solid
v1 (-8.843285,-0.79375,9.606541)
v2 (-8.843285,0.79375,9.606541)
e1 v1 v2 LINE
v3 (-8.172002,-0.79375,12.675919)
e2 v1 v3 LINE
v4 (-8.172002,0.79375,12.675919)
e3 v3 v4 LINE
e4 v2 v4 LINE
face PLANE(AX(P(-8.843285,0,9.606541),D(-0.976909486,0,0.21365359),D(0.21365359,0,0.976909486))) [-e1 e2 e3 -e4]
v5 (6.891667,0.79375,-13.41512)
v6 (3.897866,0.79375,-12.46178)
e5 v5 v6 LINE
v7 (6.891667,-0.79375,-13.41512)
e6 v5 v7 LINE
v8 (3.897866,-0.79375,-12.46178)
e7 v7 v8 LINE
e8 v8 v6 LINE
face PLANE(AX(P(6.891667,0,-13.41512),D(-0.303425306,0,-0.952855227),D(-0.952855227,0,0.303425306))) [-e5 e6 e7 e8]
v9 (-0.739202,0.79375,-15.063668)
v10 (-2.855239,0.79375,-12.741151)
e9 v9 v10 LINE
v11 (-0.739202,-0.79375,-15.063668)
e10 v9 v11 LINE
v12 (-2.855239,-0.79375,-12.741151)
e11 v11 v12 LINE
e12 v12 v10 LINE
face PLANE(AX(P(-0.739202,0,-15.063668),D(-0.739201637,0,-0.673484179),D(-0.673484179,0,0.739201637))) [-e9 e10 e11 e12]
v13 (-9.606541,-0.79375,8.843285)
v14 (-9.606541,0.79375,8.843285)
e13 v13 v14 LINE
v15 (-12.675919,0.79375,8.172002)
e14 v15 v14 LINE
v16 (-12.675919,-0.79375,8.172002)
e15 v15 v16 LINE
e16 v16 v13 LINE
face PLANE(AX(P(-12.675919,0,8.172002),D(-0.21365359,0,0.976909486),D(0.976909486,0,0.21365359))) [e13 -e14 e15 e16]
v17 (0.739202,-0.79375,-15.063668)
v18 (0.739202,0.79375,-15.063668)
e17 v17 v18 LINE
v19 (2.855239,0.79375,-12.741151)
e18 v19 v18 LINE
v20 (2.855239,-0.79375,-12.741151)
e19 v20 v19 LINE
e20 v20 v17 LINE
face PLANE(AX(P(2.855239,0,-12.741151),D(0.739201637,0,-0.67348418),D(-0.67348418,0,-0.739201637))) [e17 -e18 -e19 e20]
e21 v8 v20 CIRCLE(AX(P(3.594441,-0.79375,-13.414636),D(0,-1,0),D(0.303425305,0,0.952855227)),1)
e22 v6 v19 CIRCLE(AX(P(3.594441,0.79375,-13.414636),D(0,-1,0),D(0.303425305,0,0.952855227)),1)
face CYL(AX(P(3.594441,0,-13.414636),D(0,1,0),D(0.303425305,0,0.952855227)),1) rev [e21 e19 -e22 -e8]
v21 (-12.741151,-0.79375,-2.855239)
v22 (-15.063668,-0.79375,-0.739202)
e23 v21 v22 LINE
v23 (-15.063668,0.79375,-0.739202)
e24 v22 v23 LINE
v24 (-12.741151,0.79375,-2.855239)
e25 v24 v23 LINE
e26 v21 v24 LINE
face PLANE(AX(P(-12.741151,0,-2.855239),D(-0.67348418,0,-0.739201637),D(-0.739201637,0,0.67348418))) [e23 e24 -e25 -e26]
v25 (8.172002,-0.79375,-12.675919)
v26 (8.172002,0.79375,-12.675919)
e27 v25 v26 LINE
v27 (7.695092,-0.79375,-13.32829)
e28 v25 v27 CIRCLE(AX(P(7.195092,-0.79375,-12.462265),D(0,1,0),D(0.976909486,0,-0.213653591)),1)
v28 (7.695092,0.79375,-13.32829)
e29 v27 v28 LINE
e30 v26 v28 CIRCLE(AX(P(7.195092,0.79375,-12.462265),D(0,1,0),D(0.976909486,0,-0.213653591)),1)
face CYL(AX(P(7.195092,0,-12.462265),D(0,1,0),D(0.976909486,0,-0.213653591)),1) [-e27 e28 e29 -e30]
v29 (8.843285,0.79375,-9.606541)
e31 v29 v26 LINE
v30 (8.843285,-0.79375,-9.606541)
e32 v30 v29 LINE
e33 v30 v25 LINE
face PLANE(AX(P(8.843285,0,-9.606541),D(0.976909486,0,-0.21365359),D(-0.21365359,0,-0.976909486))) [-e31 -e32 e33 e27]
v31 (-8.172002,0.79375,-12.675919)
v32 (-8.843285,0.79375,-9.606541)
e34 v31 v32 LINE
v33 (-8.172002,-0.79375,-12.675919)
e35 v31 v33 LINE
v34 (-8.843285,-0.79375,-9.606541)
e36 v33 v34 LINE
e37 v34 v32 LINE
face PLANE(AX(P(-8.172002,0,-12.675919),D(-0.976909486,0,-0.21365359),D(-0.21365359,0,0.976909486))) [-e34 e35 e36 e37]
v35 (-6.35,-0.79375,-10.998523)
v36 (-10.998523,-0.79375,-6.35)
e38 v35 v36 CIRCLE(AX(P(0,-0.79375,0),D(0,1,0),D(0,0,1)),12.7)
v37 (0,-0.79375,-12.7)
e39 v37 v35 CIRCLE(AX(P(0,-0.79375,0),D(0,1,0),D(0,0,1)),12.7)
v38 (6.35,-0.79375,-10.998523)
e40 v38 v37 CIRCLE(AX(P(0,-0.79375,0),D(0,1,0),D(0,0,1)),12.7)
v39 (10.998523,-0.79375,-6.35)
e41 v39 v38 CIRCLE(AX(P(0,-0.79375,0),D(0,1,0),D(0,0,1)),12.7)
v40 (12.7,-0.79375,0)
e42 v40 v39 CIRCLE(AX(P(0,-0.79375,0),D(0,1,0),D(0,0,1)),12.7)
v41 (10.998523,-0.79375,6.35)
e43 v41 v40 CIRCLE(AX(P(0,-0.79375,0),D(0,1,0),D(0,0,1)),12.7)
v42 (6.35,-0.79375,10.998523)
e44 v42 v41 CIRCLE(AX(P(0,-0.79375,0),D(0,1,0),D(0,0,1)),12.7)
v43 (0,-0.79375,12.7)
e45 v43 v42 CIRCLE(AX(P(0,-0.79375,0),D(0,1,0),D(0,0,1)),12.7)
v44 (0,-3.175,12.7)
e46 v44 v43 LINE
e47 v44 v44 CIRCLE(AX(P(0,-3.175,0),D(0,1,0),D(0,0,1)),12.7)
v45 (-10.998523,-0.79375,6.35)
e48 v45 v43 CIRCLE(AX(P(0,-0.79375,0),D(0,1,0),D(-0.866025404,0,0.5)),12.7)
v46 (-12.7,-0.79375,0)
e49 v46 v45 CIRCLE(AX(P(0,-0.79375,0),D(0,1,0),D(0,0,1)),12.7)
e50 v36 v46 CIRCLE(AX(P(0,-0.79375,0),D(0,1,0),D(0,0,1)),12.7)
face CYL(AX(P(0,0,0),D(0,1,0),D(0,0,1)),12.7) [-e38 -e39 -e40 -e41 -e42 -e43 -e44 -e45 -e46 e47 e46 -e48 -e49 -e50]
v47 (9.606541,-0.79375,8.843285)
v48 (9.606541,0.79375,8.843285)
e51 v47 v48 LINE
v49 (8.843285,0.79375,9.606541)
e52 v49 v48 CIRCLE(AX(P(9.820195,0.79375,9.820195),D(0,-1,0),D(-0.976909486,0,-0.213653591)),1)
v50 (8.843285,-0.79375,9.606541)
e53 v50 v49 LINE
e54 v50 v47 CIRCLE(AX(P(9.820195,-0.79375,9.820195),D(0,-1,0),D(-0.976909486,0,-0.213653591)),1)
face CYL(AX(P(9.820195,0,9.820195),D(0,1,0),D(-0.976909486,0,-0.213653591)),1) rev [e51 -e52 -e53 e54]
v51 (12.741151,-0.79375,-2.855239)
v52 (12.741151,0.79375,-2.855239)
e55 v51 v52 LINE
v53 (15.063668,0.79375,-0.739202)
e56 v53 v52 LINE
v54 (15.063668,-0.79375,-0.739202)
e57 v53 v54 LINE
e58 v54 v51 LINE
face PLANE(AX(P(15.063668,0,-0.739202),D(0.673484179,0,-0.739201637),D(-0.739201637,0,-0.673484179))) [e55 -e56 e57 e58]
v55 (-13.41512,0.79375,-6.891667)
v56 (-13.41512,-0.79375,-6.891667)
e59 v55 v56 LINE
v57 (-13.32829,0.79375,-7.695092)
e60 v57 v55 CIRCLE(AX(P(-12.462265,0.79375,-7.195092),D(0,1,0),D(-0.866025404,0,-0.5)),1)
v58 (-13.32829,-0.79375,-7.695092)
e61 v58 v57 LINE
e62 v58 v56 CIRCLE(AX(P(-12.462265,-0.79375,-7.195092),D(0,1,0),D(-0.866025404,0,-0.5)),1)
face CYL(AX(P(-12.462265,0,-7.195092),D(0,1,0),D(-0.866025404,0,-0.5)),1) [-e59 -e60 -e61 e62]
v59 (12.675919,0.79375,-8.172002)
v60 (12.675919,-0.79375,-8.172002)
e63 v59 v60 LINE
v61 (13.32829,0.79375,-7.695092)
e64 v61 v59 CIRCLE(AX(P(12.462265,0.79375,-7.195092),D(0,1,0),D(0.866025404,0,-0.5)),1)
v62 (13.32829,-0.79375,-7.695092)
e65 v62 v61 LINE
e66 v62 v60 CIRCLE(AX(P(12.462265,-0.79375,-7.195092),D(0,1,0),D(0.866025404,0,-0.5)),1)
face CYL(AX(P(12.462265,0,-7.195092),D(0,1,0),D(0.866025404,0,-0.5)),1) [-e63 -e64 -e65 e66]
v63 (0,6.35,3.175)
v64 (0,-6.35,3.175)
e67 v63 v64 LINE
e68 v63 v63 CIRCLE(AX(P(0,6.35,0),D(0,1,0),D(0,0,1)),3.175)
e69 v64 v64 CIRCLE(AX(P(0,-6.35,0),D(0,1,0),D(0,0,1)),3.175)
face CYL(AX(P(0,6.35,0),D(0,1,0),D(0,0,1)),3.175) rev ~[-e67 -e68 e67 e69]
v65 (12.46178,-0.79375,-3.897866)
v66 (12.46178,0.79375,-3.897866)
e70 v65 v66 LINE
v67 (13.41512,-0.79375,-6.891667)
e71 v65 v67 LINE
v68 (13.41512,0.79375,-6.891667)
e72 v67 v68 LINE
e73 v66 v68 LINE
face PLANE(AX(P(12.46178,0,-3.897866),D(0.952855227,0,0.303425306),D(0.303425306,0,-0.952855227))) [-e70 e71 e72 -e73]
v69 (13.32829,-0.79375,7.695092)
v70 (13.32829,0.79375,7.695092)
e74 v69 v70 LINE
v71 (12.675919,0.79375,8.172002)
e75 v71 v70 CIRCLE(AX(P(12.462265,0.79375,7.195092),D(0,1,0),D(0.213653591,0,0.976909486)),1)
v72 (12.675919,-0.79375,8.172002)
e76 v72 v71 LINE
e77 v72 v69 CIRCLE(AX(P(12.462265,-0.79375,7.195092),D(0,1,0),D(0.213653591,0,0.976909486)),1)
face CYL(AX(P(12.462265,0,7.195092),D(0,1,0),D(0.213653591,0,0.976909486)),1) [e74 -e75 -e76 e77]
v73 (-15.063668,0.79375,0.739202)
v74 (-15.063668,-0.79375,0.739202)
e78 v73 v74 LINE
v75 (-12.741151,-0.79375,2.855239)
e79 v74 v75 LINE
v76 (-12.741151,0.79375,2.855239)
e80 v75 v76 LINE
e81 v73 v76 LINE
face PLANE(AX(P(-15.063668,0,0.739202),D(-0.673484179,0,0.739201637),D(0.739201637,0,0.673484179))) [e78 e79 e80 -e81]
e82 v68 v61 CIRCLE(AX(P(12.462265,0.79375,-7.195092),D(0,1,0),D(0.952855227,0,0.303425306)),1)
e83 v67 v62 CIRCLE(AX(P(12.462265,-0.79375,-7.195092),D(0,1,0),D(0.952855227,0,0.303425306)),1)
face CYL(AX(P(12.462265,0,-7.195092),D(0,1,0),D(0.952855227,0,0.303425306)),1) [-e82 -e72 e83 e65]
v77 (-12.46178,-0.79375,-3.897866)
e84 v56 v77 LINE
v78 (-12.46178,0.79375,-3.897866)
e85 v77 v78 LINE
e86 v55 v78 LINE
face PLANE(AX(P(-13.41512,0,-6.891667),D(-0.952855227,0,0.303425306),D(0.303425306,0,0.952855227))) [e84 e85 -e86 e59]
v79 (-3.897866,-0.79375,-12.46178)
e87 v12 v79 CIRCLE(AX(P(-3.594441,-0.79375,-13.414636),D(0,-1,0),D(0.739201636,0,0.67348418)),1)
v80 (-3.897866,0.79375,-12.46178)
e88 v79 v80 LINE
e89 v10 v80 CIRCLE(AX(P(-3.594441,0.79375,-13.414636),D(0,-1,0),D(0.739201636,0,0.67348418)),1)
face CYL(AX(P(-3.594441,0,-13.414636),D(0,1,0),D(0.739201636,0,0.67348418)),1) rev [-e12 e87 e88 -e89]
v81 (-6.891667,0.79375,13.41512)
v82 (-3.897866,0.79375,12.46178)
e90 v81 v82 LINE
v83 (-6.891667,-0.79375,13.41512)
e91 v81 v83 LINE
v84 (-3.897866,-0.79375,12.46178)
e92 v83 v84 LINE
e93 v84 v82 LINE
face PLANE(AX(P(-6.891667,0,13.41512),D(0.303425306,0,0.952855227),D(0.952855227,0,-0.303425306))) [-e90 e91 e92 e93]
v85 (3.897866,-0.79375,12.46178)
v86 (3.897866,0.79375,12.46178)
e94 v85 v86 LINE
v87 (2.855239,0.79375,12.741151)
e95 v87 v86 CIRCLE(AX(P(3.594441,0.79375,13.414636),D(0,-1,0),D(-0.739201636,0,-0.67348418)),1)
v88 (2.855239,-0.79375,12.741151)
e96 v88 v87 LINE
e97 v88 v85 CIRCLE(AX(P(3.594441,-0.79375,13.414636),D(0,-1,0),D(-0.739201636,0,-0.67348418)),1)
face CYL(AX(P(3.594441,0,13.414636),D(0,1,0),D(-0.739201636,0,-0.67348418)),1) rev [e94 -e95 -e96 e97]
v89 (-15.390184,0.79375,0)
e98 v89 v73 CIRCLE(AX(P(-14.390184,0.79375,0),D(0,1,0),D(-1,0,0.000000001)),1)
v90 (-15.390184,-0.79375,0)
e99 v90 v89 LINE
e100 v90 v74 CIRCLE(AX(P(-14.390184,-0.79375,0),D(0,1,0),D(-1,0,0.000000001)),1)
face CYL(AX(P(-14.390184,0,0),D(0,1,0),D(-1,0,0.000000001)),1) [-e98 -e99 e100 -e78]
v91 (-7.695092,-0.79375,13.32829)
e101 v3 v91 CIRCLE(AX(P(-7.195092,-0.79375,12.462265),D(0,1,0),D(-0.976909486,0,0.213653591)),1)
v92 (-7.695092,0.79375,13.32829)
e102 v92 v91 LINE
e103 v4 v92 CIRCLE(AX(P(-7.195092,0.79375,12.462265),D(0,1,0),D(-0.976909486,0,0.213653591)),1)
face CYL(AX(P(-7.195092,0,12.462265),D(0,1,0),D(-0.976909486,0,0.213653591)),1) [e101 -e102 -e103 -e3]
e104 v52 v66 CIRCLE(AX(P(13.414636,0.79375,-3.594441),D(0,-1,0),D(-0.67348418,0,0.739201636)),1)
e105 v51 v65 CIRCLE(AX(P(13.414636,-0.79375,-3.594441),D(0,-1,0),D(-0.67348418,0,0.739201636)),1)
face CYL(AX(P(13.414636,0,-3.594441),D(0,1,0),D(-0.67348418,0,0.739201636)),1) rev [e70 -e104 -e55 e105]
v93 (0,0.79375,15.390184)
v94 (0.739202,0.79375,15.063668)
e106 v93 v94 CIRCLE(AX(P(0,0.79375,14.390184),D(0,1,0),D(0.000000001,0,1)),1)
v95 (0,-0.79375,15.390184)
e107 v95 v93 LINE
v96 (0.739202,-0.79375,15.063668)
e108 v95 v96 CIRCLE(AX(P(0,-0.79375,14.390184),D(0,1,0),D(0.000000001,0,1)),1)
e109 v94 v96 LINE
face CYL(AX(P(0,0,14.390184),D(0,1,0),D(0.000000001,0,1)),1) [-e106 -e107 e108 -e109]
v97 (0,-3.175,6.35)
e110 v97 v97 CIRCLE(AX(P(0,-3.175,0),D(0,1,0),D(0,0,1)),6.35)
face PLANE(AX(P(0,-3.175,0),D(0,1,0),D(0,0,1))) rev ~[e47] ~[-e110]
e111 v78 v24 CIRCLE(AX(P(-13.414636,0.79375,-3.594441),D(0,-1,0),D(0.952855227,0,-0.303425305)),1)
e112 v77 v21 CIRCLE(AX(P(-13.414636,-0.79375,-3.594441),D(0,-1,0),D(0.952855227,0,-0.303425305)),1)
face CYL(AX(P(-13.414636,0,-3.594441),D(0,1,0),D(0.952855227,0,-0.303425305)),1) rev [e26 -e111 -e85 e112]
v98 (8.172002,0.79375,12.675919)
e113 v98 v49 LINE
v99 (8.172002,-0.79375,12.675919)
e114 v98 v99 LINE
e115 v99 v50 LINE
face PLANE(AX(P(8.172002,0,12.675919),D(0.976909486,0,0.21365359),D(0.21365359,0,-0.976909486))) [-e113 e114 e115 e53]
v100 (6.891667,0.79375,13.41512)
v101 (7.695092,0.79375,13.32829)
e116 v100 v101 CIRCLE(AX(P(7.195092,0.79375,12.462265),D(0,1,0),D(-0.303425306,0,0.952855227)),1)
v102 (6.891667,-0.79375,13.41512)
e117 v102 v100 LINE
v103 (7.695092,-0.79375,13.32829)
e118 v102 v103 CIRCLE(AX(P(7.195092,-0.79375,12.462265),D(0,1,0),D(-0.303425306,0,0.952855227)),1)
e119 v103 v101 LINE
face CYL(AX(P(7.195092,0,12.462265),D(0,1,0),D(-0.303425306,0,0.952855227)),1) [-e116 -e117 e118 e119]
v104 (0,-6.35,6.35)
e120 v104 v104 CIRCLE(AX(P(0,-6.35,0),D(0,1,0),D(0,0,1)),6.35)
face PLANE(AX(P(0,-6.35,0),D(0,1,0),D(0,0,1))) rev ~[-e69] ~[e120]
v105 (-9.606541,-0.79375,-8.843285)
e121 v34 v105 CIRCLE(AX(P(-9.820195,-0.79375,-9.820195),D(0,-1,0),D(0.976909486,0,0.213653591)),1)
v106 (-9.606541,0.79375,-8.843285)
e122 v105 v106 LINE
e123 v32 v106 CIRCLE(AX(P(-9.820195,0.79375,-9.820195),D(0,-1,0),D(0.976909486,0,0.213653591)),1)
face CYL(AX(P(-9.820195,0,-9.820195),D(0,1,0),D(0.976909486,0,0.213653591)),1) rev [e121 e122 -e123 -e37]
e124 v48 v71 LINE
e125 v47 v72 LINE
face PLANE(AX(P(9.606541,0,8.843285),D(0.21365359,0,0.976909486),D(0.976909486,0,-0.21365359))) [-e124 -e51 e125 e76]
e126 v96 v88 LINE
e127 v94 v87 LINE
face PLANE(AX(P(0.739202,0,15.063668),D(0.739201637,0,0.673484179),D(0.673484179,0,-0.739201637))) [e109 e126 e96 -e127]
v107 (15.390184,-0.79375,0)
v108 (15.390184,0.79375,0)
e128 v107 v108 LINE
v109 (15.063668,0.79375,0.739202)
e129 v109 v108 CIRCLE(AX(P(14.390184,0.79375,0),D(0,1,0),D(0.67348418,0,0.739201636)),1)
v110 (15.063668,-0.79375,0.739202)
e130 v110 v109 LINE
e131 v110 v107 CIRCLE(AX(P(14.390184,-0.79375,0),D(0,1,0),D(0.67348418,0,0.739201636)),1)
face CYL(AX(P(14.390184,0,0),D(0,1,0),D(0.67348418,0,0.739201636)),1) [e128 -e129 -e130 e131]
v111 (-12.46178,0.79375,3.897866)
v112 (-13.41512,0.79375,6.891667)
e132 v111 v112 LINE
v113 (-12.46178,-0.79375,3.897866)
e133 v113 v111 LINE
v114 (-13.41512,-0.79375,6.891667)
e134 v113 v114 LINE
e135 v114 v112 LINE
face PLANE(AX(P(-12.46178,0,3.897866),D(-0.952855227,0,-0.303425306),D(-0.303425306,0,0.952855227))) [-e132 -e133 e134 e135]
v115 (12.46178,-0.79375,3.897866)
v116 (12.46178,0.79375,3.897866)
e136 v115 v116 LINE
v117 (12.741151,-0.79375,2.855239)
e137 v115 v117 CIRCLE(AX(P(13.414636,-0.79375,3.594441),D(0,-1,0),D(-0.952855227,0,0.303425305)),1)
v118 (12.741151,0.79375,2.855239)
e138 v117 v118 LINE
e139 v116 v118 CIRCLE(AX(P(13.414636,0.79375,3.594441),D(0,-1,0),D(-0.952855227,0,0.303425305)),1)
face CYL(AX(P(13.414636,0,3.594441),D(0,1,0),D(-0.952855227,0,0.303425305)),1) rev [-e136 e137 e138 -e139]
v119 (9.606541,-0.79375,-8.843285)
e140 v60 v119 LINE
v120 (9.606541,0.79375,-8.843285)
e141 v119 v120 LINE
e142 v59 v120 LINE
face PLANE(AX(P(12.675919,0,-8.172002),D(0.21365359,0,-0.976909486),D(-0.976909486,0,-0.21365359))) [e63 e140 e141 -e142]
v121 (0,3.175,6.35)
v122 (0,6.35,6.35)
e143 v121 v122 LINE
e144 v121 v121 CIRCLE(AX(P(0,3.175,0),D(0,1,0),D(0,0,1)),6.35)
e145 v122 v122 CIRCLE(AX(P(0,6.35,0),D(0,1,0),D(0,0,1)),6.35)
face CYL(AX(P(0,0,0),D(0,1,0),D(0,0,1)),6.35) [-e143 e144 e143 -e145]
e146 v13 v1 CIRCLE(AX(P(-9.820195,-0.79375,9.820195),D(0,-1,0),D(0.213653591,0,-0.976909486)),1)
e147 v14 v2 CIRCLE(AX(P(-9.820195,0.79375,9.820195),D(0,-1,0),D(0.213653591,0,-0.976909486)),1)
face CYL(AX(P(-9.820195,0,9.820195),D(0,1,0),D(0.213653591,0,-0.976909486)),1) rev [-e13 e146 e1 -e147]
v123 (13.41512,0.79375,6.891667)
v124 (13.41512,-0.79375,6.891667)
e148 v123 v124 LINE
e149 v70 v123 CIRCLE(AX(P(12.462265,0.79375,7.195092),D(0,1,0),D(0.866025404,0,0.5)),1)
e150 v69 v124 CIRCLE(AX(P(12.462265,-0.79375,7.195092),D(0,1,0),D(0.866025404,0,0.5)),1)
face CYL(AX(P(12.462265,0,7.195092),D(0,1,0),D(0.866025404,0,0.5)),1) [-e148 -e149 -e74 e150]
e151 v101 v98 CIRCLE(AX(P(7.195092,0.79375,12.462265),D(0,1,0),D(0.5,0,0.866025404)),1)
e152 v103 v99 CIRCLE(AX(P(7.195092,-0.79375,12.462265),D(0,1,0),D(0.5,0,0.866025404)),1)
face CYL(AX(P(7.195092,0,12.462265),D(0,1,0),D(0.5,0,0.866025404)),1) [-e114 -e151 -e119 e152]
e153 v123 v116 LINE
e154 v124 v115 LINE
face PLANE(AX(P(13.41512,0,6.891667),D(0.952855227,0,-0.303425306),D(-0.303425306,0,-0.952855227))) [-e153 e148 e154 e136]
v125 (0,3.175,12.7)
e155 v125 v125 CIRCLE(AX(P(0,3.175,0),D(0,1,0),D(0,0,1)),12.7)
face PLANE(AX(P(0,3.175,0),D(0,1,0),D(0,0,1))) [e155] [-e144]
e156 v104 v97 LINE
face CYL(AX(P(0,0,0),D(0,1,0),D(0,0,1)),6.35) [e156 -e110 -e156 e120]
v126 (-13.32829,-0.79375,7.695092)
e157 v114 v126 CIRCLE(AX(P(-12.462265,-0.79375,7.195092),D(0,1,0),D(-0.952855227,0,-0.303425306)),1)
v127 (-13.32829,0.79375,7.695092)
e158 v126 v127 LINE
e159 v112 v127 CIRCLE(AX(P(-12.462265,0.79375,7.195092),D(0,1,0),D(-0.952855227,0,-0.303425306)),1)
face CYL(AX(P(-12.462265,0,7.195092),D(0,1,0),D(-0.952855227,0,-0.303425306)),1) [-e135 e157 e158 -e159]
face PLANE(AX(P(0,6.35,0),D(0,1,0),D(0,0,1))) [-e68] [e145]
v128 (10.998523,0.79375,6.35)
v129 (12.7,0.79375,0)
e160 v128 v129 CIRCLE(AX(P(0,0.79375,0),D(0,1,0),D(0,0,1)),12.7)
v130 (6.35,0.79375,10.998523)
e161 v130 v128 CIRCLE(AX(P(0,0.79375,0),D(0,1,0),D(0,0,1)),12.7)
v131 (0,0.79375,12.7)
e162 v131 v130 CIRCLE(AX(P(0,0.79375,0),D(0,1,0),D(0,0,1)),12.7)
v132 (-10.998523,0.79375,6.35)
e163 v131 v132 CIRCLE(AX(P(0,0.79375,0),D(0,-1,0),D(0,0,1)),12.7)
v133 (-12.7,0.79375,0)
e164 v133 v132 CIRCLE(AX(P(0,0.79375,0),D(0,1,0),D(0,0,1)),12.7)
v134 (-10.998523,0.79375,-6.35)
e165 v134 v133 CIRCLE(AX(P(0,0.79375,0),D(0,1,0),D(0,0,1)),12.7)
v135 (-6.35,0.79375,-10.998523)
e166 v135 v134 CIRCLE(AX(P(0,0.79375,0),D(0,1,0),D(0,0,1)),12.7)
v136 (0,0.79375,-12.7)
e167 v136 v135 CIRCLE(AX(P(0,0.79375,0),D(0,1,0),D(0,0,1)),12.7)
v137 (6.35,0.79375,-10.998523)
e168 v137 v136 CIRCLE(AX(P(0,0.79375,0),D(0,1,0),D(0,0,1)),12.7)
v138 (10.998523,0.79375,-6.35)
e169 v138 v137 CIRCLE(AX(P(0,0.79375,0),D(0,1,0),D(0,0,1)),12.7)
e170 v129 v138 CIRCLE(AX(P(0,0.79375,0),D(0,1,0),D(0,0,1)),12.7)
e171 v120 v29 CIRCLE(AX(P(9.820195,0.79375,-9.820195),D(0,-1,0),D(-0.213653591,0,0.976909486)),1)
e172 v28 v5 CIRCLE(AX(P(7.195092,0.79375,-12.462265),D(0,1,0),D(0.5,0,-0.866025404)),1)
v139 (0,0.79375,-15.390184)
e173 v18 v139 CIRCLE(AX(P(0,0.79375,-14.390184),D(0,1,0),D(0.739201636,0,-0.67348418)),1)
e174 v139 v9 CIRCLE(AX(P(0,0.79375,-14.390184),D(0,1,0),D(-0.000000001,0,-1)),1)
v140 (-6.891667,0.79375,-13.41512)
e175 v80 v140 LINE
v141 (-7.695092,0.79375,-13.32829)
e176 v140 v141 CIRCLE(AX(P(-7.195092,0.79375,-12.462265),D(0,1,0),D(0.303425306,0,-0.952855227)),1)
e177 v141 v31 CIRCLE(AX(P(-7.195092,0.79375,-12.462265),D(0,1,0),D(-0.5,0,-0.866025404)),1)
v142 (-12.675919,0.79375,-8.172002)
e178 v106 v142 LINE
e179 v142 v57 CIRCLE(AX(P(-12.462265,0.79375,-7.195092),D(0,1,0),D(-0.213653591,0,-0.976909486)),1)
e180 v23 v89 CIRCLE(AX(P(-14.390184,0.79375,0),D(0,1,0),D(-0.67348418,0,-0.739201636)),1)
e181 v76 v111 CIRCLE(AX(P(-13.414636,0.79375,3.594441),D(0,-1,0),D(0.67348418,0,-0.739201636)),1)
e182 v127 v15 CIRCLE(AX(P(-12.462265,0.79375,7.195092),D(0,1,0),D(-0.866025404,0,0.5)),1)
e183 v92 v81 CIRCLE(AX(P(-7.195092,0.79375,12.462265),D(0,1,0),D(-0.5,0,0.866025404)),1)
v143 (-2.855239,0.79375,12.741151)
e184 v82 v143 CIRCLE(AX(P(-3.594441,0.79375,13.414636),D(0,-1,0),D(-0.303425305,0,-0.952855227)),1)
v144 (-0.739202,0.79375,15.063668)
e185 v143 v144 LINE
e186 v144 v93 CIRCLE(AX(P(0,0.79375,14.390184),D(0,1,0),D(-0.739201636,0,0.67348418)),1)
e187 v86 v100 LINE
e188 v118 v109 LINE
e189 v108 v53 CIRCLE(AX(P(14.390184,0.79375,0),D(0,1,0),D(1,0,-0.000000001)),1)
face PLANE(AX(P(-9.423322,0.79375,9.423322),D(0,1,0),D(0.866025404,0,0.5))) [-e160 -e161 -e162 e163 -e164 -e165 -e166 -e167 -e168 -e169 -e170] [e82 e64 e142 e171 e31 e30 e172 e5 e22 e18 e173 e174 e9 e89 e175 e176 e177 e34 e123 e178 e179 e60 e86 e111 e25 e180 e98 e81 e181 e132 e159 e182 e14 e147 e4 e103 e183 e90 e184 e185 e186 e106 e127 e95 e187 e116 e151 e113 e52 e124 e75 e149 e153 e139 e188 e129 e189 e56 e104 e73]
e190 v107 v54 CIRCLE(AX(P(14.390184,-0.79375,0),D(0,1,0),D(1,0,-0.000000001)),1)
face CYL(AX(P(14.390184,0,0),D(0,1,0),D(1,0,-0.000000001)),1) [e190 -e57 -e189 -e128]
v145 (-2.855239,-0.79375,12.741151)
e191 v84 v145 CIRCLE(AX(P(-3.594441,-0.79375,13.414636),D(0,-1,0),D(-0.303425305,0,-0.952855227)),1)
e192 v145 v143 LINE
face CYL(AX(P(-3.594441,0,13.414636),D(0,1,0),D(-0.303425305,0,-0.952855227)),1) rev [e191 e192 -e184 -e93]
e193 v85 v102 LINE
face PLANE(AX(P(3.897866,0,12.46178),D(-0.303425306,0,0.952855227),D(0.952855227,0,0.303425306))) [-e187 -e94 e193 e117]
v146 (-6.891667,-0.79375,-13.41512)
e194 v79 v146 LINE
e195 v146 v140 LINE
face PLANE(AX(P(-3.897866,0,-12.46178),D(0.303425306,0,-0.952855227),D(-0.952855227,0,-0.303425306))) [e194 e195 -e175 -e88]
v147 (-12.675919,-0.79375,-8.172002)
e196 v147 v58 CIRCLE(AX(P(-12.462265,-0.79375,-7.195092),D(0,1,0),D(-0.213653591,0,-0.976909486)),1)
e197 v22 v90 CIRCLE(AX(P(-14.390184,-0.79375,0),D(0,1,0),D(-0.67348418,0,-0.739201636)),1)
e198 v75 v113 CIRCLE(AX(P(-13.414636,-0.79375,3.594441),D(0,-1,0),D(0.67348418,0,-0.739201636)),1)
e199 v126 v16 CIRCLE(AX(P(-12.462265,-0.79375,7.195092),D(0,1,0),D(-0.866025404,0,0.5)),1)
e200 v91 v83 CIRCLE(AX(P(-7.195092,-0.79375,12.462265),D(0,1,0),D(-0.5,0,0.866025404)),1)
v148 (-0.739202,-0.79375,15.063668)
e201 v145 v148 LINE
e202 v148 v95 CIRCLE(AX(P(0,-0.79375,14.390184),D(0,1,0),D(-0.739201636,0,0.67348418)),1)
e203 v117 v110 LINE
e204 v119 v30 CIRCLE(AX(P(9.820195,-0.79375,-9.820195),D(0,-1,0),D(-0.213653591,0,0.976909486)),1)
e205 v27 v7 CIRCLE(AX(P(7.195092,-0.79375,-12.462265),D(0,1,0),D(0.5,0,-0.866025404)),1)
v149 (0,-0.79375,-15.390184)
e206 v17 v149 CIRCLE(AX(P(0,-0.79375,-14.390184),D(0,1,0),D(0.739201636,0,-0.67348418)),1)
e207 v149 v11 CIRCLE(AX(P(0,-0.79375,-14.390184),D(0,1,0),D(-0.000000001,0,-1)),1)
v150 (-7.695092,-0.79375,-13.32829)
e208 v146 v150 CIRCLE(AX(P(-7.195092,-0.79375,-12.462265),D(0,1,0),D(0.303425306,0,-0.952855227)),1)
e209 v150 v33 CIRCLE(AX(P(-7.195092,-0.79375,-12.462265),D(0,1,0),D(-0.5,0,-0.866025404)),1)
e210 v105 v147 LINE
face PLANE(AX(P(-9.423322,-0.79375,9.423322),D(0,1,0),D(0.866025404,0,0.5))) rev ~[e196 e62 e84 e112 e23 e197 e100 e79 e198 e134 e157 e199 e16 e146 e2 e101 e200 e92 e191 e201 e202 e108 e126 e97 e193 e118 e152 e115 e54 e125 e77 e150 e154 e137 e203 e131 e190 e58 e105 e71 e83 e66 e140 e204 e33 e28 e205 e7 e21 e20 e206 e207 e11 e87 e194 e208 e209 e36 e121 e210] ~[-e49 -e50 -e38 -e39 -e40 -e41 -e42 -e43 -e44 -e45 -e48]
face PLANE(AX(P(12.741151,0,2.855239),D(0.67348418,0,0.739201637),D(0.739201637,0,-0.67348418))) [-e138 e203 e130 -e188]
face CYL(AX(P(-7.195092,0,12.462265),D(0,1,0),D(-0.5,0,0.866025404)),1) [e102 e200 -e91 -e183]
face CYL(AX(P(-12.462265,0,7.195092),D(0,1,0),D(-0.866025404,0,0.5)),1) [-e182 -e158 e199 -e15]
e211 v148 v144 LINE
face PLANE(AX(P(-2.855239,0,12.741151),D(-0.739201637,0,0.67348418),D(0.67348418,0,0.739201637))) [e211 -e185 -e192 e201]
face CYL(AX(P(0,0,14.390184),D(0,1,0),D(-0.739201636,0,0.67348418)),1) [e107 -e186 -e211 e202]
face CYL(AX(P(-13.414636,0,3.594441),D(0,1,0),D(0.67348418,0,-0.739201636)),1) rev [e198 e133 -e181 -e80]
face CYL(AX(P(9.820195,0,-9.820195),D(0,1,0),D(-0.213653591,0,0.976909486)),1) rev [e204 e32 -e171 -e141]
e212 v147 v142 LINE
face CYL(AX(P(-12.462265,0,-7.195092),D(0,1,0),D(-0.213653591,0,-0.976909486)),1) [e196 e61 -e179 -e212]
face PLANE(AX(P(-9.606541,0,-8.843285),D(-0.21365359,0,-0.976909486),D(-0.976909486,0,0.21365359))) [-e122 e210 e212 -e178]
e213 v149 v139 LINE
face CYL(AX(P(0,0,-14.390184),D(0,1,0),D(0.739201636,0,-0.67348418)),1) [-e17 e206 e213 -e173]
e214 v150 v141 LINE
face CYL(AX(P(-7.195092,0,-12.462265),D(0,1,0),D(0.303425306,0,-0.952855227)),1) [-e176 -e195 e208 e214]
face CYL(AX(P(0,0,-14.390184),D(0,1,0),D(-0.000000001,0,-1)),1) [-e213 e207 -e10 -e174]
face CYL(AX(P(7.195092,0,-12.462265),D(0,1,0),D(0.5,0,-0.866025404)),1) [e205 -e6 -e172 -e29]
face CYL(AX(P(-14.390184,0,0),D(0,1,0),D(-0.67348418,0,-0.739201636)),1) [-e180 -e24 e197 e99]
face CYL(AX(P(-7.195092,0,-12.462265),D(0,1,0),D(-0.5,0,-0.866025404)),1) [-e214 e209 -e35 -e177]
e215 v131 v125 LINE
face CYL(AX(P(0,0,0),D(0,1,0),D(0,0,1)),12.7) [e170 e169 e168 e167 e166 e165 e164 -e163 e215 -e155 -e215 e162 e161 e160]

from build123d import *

# Parameters (mm, degrees)
SKETCH1_R           = 6.35
BOSS_EXTRUDE1_DEPTH = 6.35
SKETCH2_R           = 12.7
BOSS_EXTRUDE2_DEPTH = 3.175
BOSS_EXTRUDE3_DEPTH = 0.79375
CIRPATTERN1_COUNT   = 12
SKETCH4_R           = 3.175
CUT_EXTRUDE1_DEPTH  = 26.19931616


with BuildPart() as part:
    # Sketch1 → Boss-Extrude1 (new, symmetric)
    with BuildSketch(Plane(origin=(0, 0, 0), x_dir=(1, 0, 0), z_dir=(0, 1, 0))):
        with Locations(Location((0, 0, 0), (0, 0, 270))):
            Circle(SKETCH1_R)
    extrude(amount=BOSS_EXTRUDE1_DEPTH, both=True)

    # Sketch2 → Boss-Extrude2 (add, symmetric)
    with BuildSketch(Plane(origin=(0, 0, 0), x_dir=(1, 0, 0), z_dir=(0, 1, 0))):
        with Locations(Location((0, 0, 0), (0, 0, 270))):
            Circle(SKETCH2_R)
    extrude(amount=BOSS_EXTRUDE2_DEPTH, both=True)

    # Sketch3 → Boss-Extrude3 (add, symmetric)
    with BuildSketch(Plane(origin=(0, 0, 0), x_dir=(1, 0, 0), z_dir=(0, 1, 0))):
        with BuildLine():
            Line((-6.891666757, -13.415120246), (-3.89786608, -12.461780366))
            ThreePointArc((-3.89786608, -12.461780366), (-3.335621729, -12.448709767), (-2.855239137, -12.741151414))
            Line((-2.855239137, -12.741151414), (-0.739201637, -15.063668306))
            ThreePointArc((-0.739201637, -15.063668306), (-0.404051866, -15.304920203), (0, -15.390184127))
            Line((0, -15.390184127), (0, -12.7))
            Line((0, -12.7), (-6.35, -10.998522628))
            Line((-6.35, -10.998522628), (-7.695092063, -13.328290423))
            ThreePointArc((-7.695092063, -13.328290423), (-7.302540921, -13.456475632), (-6.891666757, -13.415120246))
        make_face()
    boss_extrude3 = extrude(amount=BOSS_EXTRUDE3_DEPTH, both=True)

    # CirPattern1: Boss-Extrude3 ×12 about axis
    cirpattern1_axis = Axis((0, 0, 0), (0, 1, 0))
    for i in range(1, CIRPATTERN1_COUNT):
        add(boss_extrude3.rotate(cirpattern1_axis, i * 360 / CIRPATTERN1_COUNT))

    # Sketch4 → Cut-Extrude1 (cut, through all)
    with BuildSketch(Plane(origin=(0, 6.35, 0), x_dir=(1, 0, 0), z_dir=(0, 1, 0))):
        with Locations(Location((0, 0, 0), (0, 0, 270))):
            Circle(SKETCH4_R)
    extrude(amount=-CUT_EXTRUDE1_DEPTH, mode=Mode.SUBTRACT)


solid = part.part
